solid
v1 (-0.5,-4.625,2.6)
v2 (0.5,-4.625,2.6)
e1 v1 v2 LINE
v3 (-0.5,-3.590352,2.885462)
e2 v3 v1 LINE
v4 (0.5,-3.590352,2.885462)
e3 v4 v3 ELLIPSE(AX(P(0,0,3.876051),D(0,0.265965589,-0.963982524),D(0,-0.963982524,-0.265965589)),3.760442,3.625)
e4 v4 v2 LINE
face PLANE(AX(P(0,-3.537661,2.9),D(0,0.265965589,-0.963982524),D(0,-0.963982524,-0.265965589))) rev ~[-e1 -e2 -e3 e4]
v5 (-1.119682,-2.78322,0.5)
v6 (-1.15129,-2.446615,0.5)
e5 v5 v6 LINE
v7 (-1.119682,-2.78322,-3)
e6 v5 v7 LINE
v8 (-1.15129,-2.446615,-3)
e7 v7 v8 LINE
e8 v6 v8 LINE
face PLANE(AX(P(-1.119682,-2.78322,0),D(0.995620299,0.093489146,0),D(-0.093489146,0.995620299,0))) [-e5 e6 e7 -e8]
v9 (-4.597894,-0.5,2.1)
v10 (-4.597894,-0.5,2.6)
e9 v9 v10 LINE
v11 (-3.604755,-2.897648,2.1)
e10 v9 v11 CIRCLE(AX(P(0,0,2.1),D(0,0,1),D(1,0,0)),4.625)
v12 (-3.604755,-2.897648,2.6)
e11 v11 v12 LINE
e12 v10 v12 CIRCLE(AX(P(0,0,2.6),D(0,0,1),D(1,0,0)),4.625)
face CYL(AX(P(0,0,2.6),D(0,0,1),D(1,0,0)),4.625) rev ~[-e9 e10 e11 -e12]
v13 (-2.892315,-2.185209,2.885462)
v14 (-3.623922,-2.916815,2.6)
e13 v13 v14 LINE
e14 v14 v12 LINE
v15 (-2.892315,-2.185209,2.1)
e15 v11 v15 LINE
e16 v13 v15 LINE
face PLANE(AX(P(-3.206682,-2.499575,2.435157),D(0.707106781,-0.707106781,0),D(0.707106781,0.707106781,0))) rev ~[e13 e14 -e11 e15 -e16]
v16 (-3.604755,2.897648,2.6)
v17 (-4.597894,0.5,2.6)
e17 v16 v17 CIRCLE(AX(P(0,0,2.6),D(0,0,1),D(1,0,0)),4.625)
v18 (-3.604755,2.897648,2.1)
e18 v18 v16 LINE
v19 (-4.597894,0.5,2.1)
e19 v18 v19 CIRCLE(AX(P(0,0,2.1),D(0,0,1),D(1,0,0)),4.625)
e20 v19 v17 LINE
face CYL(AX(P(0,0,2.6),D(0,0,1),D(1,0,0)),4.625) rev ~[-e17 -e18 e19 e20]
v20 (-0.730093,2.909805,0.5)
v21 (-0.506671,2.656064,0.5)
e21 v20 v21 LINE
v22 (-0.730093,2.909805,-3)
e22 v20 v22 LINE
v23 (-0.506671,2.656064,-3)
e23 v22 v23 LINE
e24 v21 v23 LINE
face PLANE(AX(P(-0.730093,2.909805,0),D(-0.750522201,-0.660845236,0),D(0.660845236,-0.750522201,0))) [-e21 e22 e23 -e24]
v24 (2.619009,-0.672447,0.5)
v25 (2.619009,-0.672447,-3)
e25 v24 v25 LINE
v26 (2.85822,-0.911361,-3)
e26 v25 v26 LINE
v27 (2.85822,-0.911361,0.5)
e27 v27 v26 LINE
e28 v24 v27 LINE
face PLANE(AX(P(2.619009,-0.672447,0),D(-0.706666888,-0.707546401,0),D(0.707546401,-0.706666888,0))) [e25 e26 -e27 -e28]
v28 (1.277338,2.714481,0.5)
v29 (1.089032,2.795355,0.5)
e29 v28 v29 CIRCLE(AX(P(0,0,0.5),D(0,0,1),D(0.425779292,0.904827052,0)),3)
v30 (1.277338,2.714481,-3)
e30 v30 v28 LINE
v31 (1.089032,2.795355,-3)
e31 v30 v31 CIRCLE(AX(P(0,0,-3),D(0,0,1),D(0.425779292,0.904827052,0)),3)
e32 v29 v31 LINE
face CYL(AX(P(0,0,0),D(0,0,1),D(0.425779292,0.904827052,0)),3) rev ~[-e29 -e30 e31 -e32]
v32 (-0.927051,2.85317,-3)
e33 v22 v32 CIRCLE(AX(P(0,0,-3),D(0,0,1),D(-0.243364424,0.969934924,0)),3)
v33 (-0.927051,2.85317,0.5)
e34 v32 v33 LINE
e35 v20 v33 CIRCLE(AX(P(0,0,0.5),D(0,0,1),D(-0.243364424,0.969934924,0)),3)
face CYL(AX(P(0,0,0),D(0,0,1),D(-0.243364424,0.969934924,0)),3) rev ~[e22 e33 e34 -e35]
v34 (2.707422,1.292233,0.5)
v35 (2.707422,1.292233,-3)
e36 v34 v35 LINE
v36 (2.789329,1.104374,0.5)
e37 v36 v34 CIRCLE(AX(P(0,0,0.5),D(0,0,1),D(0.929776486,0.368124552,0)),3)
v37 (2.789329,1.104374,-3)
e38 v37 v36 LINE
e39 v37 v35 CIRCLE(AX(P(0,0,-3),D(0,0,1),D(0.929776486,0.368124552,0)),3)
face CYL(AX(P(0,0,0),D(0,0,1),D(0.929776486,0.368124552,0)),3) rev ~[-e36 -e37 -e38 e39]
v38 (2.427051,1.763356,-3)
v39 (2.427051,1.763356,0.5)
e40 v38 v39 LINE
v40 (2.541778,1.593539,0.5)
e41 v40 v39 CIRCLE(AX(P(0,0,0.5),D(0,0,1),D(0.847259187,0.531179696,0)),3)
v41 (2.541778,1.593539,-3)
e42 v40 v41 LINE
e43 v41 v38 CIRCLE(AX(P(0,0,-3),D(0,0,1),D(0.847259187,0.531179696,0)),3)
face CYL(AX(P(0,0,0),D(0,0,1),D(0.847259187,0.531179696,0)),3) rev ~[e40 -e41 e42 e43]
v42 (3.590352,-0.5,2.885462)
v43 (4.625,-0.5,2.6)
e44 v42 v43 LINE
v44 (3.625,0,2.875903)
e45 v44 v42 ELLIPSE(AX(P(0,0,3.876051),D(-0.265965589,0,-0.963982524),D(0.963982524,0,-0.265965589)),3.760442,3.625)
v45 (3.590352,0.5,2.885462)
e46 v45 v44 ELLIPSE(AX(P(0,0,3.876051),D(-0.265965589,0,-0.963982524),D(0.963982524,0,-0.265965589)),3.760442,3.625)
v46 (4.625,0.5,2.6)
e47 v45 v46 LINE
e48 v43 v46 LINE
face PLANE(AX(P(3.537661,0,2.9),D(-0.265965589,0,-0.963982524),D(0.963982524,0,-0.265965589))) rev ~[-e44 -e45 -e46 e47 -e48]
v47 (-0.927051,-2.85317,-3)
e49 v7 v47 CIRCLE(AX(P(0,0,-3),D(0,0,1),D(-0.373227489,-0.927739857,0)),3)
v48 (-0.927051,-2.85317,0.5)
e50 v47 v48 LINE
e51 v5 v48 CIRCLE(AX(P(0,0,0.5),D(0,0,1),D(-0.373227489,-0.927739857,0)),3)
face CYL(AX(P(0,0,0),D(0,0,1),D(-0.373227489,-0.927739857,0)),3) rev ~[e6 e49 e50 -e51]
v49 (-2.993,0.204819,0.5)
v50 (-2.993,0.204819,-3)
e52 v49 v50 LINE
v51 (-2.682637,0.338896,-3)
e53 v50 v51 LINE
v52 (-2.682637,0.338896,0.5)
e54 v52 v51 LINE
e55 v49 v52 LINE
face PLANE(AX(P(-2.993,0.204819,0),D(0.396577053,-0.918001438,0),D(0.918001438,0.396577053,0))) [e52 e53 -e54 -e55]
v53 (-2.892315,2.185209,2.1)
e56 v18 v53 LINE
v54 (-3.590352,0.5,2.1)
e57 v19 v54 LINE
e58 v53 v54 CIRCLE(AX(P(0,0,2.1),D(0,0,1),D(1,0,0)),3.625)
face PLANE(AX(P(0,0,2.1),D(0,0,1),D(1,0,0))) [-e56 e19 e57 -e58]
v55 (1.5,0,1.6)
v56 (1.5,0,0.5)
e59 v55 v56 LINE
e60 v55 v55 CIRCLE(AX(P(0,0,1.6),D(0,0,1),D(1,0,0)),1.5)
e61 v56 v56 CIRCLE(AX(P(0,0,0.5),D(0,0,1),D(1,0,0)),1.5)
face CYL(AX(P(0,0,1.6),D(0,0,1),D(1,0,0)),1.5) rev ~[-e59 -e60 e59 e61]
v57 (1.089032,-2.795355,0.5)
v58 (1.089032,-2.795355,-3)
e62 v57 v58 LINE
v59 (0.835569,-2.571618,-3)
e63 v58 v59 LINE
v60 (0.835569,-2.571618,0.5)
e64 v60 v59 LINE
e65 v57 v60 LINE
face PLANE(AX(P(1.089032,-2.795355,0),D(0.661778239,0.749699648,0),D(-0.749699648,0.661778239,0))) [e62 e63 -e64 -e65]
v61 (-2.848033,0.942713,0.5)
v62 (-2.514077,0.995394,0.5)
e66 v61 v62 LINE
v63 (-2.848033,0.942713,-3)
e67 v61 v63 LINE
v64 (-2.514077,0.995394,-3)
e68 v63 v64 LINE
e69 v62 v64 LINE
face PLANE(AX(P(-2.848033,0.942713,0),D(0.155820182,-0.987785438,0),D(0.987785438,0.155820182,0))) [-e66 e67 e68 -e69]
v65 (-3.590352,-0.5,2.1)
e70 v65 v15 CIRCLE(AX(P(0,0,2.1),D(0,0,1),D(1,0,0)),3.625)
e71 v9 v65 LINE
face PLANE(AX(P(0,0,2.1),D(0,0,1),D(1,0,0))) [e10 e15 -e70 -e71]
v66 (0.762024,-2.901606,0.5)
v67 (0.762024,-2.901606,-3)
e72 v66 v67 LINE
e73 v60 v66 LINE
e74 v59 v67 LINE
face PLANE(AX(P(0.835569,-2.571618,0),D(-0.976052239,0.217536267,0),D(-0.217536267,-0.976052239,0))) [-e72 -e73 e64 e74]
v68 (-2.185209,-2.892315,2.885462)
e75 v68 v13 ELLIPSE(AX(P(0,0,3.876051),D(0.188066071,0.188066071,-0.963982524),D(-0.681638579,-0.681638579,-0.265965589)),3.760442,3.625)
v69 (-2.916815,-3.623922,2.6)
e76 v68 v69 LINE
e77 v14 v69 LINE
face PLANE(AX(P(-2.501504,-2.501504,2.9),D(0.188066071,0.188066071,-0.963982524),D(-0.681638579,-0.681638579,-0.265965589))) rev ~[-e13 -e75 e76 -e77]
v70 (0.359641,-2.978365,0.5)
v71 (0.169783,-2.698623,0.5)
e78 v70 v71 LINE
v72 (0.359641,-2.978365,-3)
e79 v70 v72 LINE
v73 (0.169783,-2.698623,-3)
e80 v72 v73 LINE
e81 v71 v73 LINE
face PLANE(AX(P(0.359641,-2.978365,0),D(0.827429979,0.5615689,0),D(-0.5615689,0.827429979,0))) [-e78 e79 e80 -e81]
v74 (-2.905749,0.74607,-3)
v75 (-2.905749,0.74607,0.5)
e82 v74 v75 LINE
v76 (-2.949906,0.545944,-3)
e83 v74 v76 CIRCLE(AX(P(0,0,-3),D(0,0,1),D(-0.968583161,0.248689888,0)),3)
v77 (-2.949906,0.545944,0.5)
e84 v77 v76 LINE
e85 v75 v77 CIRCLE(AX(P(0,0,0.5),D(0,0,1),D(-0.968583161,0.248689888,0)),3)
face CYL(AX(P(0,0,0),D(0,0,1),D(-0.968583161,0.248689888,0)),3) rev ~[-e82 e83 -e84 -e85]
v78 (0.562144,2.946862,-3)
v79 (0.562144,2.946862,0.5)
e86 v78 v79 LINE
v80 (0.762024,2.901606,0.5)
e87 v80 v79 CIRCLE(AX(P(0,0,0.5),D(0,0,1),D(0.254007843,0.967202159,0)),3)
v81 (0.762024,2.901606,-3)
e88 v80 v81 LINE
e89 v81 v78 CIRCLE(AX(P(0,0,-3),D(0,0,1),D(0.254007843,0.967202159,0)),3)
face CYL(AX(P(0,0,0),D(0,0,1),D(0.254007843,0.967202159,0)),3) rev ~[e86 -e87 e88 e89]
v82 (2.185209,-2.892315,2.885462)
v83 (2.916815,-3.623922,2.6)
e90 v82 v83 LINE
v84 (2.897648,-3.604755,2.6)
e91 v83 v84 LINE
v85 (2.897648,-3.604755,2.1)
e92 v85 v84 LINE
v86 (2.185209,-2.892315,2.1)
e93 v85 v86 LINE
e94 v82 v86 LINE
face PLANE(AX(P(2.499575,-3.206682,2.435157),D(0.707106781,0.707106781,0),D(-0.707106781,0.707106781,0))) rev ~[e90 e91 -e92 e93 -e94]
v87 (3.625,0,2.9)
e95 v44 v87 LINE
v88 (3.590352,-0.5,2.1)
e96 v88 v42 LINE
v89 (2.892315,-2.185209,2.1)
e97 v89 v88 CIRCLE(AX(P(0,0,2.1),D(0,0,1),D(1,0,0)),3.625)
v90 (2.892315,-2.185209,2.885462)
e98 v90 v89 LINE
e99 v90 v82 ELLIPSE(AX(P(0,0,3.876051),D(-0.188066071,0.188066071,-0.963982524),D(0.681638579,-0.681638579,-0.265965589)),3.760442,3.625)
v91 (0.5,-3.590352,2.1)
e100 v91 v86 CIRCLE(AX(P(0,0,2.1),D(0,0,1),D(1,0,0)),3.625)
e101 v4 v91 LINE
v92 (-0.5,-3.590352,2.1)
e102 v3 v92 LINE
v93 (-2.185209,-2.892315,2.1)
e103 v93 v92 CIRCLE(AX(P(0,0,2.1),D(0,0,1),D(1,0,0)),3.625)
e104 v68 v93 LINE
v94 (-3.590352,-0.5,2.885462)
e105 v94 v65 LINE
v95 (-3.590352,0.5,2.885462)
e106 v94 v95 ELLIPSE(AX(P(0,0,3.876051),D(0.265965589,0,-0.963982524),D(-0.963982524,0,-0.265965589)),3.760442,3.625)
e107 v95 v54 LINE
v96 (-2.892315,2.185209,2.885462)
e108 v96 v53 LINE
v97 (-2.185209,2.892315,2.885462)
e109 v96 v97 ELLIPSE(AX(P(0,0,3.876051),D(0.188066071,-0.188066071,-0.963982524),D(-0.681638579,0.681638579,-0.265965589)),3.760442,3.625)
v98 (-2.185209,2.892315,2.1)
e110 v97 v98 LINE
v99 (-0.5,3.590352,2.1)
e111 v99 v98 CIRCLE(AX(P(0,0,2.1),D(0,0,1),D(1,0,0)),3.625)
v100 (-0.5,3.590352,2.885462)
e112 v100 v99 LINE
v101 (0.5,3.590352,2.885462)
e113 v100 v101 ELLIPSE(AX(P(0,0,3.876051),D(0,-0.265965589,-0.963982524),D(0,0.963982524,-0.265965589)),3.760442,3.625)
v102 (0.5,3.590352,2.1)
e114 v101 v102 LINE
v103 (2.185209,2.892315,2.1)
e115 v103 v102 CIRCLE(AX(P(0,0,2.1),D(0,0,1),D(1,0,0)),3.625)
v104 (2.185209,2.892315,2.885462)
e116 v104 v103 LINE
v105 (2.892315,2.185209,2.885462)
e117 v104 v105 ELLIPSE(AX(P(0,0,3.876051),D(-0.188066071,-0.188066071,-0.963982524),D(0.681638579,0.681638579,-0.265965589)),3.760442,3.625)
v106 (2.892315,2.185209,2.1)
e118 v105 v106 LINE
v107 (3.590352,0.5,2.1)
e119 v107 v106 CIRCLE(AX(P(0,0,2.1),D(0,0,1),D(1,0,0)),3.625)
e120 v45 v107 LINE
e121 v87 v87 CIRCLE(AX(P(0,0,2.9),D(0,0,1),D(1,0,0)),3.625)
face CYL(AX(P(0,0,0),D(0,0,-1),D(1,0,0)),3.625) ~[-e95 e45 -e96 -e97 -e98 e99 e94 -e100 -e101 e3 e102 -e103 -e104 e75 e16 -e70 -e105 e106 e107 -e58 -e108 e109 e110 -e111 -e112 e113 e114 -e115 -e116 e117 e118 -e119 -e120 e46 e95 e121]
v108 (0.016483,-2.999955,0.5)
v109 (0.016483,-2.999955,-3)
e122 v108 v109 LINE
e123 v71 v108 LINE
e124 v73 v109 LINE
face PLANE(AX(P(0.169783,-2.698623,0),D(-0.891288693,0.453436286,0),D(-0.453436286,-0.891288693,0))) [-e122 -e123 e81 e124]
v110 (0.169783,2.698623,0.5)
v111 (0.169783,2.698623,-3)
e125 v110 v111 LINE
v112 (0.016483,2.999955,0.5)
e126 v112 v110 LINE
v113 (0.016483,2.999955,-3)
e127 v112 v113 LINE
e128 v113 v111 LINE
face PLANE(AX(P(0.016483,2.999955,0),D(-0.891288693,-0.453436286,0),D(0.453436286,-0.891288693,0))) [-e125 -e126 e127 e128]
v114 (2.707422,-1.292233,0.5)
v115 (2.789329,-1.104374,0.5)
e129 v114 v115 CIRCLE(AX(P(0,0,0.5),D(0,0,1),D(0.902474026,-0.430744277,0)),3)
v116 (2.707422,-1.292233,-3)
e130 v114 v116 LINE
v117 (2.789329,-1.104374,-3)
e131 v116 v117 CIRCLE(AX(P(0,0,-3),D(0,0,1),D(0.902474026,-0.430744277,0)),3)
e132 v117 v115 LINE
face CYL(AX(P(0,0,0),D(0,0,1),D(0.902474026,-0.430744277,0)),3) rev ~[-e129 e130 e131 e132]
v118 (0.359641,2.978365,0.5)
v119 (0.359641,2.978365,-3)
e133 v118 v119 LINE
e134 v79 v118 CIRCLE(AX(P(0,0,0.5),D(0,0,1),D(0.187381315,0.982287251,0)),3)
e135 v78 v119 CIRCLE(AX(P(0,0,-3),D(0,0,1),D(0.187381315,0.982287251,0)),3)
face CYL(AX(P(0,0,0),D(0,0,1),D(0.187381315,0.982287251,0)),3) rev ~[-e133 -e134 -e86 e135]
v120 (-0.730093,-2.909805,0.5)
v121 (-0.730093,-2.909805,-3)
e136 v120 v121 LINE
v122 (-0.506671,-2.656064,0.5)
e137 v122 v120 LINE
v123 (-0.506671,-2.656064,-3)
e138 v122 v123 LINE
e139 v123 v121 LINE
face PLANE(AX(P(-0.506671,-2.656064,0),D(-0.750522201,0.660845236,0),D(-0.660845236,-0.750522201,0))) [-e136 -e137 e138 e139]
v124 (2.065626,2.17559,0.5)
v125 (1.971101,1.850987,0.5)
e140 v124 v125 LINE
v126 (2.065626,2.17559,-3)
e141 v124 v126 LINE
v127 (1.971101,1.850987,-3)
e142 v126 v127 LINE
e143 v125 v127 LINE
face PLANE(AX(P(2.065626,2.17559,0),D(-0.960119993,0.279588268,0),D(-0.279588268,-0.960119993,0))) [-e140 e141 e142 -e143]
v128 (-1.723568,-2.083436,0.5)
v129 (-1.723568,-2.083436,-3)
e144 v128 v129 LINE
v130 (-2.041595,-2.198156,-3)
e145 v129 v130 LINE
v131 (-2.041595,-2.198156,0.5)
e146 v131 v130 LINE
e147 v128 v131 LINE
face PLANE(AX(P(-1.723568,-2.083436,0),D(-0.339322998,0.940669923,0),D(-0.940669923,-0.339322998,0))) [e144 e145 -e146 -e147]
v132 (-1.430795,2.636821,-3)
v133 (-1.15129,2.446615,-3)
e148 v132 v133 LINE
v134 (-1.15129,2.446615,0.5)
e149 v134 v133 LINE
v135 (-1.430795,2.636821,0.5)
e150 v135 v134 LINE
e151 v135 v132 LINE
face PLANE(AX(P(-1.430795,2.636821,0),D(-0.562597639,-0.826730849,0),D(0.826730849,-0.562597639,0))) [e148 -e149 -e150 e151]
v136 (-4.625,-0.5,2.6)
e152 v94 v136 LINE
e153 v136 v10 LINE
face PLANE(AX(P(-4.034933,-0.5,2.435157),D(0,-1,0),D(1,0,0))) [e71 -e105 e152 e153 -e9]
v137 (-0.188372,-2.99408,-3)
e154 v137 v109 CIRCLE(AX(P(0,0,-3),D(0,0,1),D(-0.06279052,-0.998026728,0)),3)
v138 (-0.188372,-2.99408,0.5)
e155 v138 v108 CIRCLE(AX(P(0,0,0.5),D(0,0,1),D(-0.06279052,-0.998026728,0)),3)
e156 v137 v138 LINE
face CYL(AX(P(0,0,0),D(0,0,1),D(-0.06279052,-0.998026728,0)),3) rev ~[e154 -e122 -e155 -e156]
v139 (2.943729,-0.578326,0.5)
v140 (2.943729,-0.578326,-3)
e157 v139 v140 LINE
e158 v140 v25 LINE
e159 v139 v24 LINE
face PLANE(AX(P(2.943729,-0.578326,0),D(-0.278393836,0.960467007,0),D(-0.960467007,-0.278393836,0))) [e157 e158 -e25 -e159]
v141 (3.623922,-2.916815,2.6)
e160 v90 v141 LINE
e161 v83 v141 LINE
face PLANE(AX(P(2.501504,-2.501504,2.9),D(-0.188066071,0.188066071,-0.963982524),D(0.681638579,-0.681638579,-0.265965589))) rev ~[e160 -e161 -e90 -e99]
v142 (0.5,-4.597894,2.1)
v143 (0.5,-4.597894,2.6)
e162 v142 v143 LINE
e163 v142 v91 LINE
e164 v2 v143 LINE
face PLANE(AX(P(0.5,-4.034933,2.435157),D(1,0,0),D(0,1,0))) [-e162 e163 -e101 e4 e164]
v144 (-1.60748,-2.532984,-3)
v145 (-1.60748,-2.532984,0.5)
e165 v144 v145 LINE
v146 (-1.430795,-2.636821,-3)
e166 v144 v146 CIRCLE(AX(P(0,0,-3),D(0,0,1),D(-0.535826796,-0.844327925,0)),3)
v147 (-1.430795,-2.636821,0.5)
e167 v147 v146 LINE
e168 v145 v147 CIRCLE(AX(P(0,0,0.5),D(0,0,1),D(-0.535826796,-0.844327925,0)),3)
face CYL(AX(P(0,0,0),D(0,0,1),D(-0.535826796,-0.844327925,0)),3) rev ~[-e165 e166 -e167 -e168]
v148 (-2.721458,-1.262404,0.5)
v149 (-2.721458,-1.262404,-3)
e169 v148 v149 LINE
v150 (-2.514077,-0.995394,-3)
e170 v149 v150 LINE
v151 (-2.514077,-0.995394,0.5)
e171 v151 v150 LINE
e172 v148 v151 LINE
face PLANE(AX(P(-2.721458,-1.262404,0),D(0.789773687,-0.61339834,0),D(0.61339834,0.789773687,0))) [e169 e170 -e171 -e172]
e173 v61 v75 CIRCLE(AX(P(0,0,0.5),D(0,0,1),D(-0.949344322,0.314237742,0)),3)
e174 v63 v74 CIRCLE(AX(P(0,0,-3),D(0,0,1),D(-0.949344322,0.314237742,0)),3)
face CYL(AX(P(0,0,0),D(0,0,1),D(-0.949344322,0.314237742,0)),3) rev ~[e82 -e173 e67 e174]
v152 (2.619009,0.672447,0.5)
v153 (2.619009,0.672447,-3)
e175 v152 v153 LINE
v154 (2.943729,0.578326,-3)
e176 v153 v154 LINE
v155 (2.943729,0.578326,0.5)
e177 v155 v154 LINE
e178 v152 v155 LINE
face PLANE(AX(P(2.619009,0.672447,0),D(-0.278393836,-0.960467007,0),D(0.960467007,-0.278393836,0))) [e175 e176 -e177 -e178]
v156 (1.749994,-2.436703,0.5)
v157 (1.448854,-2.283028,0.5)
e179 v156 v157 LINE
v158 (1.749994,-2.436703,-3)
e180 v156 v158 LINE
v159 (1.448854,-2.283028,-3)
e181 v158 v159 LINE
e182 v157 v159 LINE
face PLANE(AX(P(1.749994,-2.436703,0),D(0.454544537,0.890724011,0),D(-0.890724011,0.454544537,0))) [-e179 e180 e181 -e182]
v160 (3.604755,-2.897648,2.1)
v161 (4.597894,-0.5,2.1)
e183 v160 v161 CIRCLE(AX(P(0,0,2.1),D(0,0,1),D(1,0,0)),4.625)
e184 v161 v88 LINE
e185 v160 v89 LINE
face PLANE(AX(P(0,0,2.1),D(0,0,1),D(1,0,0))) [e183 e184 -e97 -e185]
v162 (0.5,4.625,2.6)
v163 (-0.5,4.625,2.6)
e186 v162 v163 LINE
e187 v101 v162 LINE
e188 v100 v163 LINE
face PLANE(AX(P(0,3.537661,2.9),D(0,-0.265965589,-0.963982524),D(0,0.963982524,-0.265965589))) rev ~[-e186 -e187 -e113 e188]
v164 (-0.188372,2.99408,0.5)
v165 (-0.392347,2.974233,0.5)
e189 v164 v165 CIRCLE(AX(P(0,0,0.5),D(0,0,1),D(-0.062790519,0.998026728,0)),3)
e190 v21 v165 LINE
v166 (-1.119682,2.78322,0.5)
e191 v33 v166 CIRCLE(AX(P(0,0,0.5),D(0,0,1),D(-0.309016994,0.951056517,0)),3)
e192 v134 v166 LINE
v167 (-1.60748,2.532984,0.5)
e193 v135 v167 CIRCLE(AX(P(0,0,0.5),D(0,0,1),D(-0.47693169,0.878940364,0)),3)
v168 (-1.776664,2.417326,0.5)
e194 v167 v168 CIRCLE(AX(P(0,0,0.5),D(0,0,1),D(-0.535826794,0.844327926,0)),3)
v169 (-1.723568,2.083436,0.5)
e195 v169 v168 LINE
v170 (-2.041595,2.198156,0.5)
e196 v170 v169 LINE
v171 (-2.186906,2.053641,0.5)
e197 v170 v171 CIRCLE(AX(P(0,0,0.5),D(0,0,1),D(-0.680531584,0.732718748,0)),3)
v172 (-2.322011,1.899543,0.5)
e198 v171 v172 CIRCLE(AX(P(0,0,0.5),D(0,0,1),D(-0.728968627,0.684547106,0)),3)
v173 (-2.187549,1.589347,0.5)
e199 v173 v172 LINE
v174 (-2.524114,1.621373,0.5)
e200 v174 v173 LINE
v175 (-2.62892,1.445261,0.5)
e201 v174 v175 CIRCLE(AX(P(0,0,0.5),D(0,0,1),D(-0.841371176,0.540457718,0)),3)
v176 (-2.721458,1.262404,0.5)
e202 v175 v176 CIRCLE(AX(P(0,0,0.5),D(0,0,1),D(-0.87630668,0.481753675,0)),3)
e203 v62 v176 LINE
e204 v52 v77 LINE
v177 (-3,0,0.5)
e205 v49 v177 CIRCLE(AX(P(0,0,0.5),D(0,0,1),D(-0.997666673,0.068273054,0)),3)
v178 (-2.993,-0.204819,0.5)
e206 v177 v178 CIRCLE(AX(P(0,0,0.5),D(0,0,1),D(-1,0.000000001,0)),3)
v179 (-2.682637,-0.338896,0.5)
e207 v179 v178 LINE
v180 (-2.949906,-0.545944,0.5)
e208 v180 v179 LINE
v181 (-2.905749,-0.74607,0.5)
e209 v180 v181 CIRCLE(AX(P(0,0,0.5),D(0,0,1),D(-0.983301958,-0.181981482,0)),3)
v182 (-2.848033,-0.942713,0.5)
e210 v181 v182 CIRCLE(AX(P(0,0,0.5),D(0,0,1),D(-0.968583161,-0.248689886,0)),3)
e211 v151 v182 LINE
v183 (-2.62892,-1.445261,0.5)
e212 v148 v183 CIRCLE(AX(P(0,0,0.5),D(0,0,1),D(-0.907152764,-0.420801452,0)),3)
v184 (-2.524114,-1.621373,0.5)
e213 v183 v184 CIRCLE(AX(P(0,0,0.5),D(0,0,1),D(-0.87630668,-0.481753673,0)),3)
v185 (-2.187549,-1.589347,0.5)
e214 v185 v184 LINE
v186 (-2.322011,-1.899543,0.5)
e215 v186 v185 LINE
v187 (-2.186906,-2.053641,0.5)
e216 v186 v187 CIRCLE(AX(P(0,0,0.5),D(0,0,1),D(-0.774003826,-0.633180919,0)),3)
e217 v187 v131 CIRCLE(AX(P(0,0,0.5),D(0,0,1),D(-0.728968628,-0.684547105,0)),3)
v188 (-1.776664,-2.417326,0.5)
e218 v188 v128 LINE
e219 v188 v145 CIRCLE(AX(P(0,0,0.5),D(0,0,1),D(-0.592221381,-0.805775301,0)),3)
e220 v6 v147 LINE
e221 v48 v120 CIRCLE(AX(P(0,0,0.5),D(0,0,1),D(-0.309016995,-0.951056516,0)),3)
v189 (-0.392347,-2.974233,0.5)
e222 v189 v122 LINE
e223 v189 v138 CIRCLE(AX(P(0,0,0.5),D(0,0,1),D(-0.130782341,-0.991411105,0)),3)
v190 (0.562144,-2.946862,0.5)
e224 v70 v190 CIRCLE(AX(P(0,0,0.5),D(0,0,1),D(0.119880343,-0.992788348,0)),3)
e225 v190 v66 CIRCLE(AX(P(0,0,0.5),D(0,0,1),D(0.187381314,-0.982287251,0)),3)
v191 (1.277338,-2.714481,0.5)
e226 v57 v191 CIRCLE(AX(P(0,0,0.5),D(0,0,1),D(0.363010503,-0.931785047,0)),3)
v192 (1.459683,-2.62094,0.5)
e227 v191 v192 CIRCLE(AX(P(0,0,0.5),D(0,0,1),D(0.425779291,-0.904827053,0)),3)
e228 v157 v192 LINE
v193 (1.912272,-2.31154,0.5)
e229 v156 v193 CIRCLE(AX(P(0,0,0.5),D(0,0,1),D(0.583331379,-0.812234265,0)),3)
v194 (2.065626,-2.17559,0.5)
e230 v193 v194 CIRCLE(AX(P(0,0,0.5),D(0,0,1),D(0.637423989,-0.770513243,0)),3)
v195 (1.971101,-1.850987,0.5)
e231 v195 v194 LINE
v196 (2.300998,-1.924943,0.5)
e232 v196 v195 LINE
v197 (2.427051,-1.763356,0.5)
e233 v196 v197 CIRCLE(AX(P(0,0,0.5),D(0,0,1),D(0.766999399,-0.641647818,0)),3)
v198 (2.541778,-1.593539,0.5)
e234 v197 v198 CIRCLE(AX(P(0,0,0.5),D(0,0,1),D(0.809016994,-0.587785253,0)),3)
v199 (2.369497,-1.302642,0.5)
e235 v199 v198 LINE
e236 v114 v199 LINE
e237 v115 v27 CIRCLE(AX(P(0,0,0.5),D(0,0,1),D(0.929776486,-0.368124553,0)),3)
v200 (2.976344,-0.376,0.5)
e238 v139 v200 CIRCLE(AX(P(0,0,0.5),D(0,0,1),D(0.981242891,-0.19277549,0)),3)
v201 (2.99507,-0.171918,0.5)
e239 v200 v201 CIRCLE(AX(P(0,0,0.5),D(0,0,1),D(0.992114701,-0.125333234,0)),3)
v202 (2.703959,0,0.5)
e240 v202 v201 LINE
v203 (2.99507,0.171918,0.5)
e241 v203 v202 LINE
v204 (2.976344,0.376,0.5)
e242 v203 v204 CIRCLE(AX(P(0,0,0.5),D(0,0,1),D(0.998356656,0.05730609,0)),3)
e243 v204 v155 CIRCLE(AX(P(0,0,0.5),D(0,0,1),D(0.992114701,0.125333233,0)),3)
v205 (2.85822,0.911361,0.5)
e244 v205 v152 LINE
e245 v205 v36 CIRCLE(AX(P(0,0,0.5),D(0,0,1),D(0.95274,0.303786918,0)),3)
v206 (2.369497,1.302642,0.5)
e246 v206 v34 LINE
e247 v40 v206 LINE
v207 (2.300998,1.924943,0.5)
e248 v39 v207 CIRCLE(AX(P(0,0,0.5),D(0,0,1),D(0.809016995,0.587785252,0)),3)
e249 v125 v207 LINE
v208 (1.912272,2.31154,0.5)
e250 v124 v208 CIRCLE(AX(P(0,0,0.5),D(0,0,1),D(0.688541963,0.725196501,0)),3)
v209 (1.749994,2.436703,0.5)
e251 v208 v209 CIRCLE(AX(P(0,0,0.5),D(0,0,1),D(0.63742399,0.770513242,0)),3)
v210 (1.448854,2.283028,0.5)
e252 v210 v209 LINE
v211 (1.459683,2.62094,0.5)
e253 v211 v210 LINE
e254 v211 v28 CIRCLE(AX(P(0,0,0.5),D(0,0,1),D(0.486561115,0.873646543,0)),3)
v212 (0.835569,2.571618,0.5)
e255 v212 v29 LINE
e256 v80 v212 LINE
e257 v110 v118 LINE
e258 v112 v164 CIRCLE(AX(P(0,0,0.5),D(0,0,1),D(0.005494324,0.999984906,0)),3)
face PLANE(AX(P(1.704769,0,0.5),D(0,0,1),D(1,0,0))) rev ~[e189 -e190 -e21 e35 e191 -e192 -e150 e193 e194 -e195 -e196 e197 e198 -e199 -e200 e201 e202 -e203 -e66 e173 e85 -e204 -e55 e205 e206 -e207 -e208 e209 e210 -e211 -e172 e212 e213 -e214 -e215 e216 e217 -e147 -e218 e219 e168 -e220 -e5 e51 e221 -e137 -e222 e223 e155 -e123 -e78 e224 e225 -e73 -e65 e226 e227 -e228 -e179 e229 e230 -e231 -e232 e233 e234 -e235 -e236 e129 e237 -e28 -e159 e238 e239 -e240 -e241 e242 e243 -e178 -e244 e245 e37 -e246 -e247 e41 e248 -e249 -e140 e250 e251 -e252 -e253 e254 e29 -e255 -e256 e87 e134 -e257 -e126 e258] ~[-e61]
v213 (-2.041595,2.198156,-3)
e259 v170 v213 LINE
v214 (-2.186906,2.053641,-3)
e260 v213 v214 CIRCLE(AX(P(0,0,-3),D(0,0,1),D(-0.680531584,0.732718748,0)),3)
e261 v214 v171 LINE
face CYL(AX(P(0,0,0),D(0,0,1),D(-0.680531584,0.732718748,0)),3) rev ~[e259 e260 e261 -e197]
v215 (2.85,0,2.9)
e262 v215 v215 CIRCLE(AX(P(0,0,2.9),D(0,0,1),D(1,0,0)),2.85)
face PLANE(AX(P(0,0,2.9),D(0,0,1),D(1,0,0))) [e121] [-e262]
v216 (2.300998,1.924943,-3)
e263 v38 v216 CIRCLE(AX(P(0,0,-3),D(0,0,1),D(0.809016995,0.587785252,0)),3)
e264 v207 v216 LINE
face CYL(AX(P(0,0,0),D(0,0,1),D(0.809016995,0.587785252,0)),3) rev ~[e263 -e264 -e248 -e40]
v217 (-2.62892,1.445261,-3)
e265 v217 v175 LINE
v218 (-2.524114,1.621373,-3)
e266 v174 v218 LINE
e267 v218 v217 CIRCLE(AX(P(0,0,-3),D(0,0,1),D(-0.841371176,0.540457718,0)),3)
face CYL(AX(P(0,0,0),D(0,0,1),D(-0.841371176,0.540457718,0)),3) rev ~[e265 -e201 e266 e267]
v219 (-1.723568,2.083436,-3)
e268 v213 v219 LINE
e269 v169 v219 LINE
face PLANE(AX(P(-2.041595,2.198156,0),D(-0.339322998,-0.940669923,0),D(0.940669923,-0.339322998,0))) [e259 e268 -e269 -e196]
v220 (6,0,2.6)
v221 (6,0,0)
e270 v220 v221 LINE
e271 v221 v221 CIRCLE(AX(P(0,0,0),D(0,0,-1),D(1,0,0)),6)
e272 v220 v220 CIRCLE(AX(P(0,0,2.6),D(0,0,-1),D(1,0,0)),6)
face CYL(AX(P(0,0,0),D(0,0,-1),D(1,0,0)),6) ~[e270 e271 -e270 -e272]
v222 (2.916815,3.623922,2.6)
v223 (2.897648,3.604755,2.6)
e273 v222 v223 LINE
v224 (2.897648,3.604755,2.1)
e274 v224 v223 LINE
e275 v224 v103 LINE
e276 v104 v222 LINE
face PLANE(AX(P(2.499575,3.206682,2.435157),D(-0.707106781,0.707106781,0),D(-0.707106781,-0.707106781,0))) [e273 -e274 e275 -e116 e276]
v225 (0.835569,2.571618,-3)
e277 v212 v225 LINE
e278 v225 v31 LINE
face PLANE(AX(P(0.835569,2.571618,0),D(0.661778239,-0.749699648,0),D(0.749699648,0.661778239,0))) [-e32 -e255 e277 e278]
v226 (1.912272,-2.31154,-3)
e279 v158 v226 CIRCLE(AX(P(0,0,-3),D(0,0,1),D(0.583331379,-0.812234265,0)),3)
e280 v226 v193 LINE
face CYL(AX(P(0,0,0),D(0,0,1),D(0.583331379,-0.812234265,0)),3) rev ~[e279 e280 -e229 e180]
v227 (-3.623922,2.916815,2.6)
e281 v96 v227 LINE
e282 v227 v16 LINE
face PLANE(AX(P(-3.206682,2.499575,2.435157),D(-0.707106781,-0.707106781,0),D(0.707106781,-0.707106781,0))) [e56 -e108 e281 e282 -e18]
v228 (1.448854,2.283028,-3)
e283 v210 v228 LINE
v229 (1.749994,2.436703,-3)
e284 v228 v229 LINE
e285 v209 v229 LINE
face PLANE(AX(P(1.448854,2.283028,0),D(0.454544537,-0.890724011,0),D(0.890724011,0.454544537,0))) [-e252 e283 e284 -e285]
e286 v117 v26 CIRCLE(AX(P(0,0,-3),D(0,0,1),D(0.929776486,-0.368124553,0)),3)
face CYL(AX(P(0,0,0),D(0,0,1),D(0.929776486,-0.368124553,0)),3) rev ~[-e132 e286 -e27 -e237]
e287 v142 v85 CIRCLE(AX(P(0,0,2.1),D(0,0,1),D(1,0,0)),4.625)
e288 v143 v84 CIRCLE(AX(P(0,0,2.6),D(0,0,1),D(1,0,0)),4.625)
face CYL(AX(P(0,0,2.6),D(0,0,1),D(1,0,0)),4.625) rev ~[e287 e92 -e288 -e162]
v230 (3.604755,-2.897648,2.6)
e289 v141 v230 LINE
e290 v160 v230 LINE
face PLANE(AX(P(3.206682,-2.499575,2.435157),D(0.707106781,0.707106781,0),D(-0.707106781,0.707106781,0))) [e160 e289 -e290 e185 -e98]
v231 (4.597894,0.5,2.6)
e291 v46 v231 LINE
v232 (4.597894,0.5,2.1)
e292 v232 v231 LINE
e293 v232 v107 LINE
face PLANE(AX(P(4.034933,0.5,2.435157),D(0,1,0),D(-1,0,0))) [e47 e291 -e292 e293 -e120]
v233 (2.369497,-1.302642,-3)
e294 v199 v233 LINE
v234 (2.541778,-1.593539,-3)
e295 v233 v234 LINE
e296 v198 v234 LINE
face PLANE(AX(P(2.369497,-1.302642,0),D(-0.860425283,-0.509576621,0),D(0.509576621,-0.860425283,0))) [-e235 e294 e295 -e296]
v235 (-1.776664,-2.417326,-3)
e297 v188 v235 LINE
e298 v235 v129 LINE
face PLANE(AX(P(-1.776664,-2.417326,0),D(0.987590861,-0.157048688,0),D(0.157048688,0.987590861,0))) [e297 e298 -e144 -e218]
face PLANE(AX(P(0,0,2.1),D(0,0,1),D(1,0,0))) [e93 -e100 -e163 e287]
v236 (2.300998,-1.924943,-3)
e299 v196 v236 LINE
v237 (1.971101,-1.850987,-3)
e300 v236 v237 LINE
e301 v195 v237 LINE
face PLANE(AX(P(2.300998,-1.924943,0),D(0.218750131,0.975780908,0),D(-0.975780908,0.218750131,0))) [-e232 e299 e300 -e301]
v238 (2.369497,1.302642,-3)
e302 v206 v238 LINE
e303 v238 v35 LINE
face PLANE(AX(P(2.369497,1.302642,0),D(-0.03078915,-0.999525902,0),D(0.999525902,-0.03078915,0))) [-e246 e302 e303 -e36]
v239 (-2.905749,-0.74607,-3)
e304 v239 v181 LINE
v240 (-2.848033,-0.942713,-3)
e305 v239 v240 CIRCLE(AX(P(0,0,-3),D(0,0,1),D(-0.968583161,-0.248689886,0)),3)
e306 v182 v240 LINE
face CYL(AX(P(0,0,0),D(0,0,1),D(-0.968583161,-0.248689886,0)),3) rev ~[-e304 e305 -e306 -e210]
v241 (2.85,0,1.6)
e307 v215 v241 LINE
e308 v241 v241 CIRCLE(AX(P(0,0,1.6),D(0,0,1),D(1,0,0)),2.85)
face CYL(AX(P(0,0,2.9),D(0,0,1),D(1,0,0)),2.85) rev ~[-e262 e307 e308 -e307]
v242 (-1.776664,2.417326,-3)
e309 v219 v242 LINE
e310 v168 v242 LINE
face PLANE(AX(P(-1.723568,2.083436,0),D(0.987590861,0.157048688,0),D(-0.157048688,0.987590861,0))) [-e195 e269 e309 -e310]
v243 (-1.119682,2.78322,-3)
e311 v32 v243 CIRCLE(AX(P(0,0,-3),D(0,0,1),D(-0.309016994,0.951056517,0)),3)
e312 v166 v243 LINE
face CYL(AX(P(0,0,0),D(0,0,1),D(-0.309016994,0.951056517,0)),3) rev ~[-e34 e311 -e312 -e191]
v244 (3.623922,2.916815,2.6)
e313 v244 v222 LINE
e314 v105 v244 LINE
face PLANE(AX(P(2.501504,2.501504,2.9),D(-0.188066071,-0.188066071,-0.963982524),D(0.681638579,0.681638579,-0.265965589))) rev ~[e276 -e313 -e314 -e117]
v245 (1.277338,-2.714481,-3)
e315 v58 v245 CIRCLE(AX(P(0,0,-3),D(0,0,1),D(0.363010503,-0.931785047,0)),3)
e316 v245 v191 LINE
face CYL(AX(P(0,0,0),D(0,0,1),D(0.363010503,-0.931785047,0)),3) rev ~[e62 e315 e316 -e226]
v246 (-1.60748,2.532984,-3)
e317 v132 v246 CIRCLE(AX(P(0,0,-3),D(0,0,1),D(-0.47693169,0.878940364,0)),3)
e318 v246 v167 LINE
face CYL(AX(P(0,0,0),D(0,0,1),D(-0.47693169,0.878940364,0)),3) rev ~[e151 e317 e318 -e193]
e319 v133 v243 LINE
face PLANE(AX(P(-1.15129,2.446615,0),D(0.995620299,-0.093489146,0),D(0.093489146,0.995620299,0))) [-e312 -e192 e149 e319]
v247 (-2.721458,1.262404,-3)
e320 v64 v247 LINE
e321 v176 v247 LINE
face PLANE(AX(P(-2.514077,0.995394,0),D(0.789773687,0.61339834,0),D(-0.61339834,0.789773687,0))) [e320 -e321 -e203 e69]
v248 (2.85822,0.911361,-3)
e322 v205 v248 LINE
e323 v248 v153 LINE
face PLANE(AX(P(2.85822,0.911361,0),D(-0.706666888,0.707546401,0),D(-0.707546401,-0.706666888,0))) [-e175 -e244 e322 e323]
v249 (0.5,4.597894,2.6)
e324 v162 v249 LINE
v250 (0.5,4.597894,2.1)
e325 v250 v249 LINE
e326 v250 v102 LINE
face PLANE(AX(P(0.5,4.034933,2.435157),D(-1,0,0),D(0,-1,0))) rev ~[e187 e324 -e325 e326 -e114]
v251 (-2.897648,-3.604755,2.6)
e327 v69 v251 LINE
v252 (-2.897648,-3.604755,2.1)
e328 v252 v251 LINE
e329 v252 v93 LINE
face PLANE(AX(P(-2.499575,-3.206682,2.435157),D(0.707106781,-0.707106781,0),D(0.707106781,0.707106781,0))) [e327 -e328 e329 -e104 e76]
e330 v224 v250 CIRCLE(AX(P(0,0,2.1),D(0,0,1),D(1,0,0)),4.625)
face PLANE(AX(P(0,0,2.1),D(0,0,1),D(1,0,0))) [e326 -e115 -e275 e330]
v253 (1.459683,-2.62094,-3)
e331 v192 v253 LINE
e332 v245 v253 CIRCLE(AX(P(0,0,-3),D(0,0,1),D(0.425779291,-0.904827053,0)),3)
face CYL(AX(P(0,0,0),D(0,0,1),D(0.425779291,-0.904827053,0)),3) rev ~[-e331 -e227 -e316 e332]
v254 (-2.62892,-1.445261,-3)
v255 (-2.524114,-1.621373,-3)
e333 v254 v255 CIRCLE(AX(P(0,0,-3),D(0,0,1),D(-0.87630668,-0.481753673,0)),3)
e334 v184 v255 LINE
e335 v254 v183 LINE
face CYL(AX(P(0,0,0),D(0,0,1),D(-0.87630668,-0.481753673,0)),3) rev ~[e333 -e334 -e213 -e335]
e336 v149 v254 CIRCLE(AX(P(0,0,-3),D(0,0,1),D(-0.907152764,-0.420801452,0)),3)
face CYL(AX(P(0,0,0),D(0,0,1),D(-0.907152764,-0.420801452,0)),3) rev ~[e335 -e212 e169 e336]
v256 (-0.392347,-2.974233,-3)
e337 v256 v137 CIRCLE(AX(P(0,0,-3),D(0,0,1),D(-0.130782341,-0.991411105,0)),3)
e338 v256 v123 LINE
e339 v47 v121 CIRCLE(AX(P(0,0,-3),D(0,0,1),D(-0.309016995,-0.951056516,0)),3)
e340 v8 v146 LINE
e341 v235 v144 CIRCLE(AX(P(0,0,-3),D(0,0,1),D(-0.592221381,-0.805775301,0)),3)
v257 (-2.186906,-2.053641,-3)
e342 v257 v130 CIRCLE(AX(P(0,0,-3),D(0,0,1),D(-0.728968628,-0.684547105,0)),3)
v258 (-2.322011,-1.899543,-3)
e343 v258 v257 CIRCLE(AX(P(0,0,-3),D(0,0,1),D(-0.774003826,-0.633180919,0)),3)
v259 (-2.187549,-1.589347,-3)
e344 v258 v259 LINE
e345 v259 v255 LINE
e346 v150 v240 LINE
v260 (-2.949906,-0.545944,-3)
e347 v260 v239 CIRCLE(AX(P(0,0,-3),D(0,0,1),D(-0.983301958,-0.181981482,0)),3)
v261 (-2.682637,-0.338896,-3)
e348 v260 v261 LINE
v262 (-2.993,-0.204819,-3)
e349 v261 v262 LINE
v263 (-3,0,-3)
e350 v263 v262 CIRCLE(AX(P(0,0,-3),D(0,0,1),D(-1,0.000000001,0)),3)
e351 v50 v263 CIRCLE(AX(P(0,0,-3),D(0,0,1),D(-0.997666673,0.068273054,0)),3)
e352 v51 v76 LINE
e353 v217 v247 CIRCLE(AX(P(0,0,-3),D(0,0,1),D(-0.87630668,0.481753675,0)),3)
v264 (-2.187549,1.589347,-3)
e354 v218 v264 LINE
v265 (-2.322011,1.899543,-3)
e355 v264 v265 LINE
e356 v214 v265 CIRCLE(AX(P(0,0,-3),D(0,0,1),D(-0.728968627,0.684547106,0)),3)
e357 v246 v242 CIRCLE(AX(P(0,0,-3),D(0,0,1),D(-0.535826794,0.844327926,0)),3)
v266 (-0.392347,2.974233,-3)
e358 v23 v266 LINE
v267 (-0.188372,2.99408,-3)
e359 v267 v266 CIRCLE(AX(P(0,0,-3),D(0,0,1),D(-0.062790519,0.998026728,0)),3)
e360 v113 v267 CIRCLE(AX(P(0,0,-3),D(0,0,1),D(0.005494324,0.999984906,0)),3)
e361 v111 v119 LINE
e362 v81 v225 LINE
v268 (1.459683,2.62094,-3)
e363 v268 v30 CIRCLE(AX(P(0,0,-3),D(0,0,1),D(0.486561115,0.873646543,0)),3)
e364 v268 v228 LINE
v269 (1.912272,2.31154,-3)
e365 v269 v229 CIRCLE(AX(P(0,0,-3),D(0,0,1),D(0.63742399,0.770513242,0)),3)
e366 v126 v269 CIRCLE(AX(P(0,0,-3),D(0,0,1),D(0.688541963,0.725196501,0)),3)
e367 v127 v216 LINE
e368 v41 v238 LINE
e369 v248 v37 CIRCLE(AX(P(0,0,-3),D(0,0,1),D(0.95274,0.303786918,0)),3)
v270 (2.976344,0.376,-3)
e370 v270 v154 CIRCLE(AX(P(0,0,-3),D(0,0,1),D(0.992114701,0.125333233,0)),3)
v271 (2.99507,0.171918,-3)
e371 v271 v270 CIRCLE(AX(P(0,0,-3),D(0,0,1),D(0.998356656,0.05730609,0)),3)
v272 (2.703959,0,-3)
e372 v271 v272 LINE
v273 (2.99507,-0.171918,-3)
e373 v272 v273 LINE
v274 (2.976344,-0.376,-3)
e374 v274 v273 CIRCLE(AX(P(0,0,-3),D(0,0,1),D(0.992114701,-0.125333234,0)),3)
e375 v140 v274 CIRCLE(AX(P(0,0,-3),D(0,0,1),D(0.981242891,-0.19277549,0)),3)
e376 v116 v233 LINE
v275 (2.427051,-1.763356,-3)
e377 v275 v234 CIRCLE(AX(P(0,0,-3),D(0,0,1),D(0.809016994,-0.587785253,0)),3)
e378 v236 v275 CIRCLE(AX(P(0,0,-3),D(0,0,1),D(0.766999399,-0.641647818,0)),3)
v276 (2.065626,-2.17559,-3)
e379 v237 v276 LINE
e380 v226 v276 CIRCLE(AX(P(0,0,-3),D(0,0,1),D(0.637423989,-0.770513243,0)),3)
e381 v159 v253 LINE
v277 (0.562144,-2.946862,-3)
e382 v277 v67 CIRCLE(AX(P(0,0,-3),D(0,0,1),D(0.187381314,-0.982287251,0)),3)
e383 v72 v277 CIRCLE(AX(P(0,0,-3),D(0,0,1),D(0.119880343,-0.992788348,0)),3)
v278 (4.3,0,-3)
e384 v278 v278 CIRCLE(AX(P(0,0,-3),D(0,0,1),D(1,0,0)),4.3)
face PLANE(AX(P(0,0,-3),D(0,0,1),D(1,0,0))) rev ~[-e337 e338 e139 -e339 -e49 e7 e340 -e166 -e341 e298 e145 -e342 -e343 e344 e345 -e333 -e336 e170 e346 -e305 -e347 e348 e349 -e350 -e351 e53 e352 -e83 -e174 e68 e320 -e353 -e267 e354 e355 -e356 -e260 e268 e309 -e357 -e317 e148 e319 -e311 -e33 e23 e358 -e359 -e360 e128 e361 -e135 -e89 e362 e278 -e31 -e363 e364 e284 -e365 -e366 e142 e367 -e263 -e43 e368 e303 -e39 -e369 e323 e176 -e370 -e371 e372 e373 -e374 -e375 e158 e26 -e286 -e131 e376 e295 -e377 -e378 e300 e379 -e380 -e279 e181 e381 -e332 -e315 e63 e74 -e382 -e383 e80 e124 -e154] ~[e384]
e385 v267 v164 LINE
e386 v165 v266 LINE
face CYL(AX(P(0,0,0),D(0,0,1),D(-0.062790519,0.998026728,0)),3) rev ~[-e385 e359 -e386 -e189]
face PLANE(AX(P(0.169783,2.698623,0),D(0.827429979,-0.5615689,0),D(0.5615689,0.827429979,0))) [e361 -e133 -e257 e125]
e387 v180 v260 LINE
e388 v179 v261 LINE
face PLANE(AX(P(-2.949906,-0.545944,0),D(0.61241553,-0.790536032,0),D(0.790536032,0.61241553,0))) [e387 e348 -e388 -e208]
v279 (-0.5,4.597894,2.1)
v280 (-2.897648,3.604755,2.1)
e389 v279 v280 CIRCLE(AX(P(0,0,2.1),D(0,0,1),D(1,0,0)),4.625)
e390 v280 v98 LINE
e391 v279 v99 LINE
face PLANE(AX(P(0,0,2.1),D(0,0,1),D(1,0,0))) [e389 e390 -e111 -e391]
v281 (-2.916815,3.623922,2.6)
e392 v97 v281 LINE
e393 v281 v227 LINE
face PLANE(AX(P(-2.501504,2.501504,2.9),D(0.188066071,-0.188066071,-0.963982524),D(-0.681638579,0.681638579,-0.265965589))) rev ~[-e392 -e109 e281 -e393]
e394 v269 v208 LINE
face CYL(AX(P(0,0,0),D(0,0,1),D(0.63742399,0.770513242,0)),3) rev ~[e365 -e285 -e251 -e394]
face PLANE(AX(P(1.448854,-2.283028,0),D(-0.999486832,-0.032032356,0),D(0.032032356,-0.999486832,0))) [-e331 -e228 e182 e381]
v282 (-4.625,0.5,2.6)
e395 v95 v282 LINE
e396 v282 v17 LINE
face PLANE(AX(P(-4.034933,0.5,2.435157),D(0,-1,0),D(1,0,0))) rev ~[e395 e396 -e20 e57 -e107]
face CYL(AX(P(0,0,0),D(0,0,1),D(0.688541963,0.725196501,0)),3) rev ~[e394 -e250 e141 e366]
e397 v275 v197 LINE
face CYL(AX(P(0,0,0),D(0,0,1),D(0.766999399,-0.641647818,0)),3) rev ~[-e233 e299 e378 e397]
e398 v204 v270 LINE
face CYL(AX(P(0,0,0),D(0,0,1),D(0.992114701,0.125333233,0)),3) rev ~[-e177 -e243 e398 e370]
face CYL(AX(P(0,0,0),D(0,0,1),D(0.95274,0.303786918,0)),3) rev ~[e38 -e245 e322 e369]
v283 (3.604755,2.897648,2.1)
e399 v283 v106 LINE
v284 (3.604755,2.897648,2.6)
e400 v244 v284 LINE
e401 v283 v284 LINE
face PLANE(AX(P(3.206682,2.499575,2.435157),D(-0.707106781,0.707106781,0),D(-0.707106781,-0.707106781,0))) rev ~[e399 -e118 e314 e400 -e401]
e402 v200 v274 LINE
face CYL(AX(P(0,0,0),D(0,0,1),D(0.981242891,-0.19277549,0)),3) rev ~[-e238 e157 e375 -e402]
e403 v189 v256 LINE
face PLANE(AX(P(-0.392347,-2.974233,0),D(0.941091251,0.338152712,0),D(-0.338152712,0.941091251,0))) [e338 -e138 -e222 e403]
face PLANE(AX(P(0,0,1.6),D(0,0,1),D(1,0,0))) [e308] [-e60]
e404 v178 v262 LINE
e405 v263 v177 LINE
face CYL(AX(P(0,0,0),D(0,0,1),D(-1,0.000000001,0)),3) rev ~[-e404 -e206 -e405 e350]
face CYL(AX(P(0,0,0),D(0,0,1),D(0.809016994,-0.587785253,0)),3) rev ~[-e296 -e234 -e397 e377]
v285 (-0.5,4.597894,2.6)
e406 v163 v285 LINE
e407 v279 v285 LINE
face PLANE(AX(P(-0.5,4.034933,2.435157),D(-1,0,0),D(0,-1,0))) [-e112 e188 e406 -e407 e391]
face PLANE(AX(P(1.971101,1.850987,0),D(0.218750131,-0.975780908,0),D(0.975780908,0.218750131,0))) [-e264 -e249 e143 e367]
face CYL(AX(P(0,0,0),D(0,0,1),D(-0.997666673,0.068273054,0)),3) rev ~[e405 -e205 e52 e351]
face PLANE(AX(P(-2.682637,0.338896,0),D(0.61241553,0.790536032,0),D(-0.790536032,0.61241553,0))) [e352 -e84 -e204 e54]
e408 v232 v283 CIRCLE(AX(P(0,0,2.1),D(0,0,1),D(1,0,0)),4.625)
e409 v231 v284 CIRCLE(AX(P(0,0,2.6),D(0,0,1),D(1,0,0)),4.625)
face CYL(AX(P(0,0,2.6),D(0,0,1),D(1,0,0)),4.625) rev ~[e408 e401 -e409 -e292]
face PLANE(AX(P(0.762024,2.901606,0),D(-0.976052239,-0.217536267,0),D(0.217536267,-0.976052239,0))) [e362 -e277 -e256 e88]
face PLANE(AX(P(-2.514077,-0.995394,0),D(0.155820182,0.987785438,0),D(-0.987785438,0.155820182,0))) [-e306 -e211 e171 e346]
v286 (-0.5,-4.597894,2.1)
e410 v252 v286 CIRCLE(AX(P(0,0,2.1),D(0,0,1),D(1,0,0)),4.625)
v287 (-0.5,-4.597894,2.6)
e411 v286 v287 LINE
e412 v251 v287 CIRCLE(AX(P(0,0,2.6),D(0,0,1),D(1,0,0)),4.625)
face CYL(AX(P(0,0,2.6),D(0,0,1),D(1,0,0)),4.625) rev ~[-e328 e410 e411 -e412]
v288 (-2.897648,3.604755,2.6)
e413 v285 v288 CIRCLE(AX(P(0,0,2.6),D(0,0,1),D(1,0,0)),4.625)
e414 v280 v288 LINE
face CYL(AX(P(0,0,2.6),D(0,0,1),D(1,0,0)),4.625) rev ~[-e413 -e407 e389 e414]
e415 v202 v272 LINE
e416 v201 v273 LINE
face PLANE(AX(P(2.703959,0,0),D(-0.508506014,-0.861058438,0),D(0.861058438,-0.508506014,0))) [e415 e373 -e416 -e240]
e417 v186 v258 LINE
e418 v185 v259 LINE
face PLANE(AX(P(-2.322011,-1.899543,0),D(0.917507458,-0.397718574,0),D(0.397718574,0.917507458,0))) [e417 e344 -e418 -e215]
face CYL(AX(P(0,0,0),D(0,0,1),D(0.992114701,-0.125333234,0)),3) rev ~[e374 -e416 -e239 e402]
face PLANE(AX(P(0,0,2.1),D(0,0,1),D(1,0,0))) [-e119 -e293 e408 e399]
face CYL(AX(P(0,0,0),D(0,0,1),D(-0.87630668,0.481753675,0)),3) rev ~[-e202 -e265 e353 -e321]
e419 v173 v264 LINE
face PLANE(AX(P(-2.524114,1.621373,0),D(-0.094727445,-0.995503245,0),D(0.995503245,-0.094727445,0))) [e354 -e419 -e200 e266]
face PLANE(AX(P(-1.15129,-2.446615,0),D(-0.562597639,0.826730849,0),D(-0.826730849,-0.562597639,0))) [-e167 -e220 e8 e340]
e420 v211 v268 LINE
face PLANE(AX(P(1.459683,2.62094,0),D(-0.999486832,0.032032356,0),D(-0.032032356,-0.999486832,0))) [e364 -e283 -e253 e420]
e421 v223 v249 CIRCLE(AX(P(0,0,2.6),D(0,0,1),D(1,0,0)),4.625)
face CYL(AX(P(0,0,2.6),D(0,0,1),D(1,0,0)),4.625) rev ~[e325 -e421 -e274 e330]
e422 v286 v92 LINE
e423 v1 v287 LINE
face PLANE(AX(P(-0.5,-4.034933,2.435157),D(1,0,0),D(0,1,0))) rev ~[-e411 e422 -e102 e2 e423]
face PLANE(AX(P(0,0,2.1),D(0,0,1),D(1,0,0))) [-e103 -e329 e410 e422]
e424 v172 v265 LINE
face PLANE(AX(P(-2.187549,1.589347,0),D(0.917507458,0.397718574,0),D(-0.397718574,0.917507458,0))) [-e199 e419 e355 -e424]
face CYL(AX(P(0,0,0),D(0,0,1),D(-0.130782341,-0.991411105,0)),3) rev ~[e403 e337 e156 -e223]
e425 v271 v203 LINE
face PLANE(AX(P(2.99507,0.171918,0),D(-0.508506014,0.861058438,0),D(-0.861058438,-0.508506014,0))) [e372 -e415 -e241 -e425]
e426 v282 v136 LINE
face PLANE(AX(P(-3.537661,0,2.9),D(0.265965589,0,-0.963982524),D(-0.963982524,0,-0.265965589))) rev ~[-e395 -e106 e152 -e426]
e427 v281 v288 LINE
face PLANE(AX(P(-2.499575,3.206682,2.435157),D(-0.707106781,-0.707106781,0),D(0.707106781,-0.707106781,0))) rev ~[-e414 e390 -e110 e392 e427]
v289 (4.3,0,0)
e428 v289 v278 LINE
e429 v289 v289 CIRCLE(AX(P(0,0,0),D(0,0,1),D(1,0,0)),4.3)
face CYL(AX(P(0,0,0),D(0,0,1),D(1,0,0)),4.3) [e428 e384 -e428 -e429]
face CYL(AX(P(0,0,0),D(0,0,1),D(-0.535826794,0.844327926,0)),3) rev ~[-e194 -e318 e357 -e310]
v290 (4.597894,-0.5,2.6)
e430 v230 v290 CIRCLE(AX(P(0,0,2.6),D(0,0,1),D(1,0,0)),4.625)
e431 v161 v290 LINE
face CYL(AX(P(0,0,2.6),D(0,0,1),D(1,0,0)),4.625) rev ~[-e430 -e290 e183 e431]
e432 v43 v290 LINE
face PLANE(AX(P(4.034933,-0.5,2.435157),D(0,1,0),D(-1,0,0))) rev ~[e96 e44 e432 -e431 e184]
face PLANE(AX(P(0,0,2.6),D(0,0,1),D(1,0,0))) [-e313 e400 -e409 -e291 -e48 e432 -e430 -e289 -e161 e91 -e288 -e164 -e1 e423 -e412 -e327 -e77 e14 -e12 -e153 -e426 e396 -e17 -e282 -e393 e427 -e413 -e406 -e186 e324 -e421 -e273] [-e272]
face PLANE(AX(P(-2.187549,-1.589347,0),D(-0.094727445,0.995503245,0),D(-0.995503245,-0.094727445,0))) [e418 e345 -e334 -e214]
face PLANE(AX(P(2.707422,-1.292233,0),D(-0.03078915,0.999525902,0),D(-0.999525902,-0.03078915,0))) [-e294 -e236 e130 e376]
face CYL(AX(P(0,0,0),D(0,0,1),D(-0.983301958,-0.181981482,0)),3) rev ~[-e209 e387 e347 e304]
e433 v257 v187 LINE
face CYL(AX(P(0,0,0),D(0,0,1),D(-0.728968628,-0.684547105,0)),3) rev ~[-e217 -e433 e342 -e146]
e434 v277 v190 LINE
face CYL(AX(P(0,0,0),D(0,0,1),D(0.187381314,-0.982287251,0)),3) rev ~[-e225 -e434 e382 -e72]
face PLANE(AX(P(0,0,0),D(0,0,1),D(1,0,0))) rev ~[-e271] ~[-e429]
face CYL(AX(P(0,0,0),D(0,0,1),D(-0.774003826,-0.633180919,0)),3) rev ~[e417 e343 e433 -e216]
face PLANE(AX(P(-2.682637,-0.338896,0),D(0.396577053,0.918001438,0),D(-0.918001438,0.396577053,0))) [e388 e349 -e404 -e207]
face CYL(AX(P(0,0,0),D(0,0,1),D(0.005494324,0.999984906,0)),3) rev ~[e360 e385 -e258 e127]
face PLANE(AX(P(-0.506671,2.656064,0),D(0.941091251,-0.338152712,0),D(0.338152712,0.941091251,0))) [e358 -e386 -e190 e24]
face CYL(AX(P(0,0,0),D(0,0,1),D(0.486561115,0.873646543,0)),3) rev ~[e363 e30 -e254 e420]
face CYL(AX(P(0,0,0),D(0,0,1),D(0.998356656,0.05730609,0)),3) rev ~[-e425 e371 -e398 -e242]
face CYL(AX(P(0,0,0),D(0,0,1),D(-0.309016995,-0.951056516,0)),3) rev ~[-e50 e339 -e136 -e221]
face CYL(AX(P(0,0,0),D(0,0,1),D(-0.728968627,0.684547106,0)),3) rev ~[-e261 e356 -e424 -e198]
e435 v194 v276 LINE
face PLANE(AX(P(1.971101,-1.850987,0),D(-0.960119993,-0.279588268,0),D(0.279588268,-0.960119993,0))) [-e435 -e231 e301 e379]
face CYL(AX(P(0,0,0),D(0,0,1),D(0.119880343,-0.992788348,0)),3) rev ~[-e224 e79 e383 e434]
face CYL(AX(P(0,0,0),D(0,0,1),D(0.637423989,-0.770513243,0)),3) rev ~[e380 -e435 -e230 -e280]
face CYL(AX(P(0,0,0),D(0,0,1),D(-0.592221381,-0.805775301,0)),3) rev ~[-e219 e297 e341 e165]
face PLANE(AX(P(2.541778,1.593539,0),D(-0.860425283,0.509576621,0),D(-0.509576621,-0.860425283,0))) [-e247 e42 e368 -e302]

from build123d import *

# Parameters (mm, degrees)
PAD008_DEPTH          = 2.6
SKETCH020_R           = 3.625
SKETCH020_R_2         = 2.85
PAD009_DEPTH          = 2.9
SKETCH021_R           = 4.625
SKETCH021_R_2         = 3.625
POCKET011_DEPTH       = 0.5
PAD010_DEPTH          = 0.5
POLARPATTERN006_COUNT = 8
SKETCH023_R           = 2.85
POCKET012_DEPTH       = 1.3
SKETCH024_R           = 1.5
POCKET013_DEPTH       = 5
SKETCH025_R           = 0.75
POCKET014_DEPTH       = 5
POLARPATTERN007_COUNT = 4
SKETCH026_R           = 4.3
PAD011_DEPTH          = 3
POCKET015_DEPTH       = 5
POCKET015_DEPTH_BACK  = 0.5
POLARPATTERN008_COUNT = 25
FILLET001_R           = 1
SKETCH028_R           = 25
SKETCH028_R_2         = 6
POCKET016_DEPTH       = 5


with BuildPart() as part:
    # Sketch019 → Pad008 (new body)
    with BuildSketch(Plane.XY):
        with BuildLine():
            ThreePointArc((3.1440666838, 19.7956884151), (0, 22.4), (-3.1440666838, 19.7956884151))
            Line((-3.1440666838, 19.7956884151), (-5, 10))
            Line((-5, 10), (-5, 5))
            Line((-5, 5), (-10, 5))
            Line((-10, 5), (-19.7956884151, 3.1440666838))
            ThreePointArc((-19.7956884151, 3.1440666838), (-22.4, 0), (-19.7956884151, -3.1440666838))
            Line((-10, -5), (-19.7956884151, -3.1440666838))
            Line((-5, -5), (-10, -5))
            Line((-5, -10), (-5, -5))
            Line((-3.1440666838, -19.7956884151), (-5, -10))
            ThreePointArc((-3.1440666838, -19.7956884151), (0, -22.4), (3.1440666838, -19.7956884151))
            Line((3.1440666838, -19.7956884151), (5, -10))
            Line((5, -10), (5, -5))
            Line((5, -5), (10, -5))
            Line((10, -5), (19.7956884151, -3.1440666838))
            ThreePointArc((19.7956884151, -3.1440666838), (22.4, 0), (19.7956884151, 3.1440666838))
            Line((10, 5), (19.7956884151, 3.1440666838))
            Line((5, 5), (10, 5))
            Line((5, 10), (5, 5))
            Line((3.1440666838, 19.7956884151), (5, 10))
        make_face()
    extrude(amount=PAD008_DEPTH)

    # Sketch020 → Pad009 (join)
    with BuildSketch(Plane.XY):
        Circle(SKETCH020_R)
        Circle(SKETCH020_R_2, mode=Mode.SUBTRACT)
    extrude(amount=PAD009_DEPTH)

    # Sketch021 (on Face5 of Pad009) → Pocket011 (cut)
    with BuildSketch(Plane.XY.offset(2.6)):
        Circle(SKETCH021_R)
        Circle(SKETCH021_R_2, mode=Mode.SUBTRACT)
    extrude(amount=-POCKET011_DEPTH, mode=Mode.SUBTRACT)

    # Sketch022 → Pad010 (join, symmetric)
    with BuildSketch(Plane.XZ):
        Polygon((3.537661, 2.9), (4.625, 2.6), (4.625, 2.1), (3.537661, 2.1), align=None)
    pad010 = extrude(amount=PAD010_DEPTH, both=True)

    # PolarPattern006: Pad010 ×8 about axis
    polarpattern006_axis = Axis((0, 0, 0), (0, 0, 1))
    for i in range(1, POLARPATTERN006_COUNT):
        add(pad010.rotate(polarpattern006_axis, i * 360 / POLARPATTERN006_COUNT))

    # Sketch023 (on Face74 of PolarPattern006) → Pocket012 (cut)
    with BuildSketch(Plane.XY.offset(2.9)):
        Circle(SKETCH023_R)
    extrude(amount=-POCKET012_DEPTH, mode=Mode.SUBTRACT)

    # Sketch024 (on Face66 of Pocket012) → Pocket013 (cut)
    with BuildSketch(Plane.XY.offset(1.6)):
        Circle(SKETCH024_R)
    extrude(amount=-POCKET013_DEPTH, mode=Mode.SUBTRACT)

    # Sketch025 → Pocket014 (cut)
    with BuildSketch(Plane.XY):
        with Locations((8.8, 0)):
            Circle(SKETCH025_R)
        with Locations((12.17411, 0)):
            Circle(SKETCH025_R)
        with Locations((15.54822, 0)):
            Circle(SKETCH025_R)
        with Locations((18.92233, 0)):
            Circle(SKETCH025_R)
    pocket014 = extrude(amount=POCKET014_DEPTH, mode=Mode.SUBTRACT)

    # PolarPattern007: Pocket014 ×4 about axis
    polarpattern007_axis = Axis((0, 0, 0), (0, 0, 1))
    for i in range(1, POLARPATTERN007_COUNT):
        add(pocket014.rotate(polarpattern007_axis, i * 360 / POLARPATTERN007_COUNT), mode=Mode.SUBTRACT)

    # Sketch026 → Pad011 (join)
    with BuildSketch(Plane.XY):
        Circle(SKETCH026_R)
    extrude(amount=-PAD011_DEPTH)

    # Sketch027 → Pocket015 (cut, two sides)
    with BuildSketch(Plane.XY) as pocket015_sk:
        with BuildLine():
            ThreePointArc((2.9950699672, 0.1719182704), (2.9874502188, 0.2741189345), (2.9763441039, 0.3759997007))
            Line((0, 0), (2.9763441039, 0.3759997007))
            Line((0, 0), (2.9763441039, -0.3759997007))
            ThreePointArc((2.9763441039, -0.3759997007), (2.9874502188, -0.2741189345), (2.9950699672, -0.1719182704))
            Line((2.703959, 0), (2.9950699672, -0.1719182704))
            Line((2.9950699672, 0.1719182704), (2.703959, 0))
        make_face()
    pocket015 = extrude(amount=-POCKET015_DEPTH, mode=Mode.SUBTRACT) + extrude(pocket015_sk.sketch, amount=POCKET015_DEPTH_BACK, mode=Mode.SUBTRACT)

    # PolarPattern008: Pocket015 ×25 about axis
    polarpattern008_axis = Axis((0, 0, 0), (0, 0, 1))
    for i in range(1, POLARPATTERN008_COUNT):
        add(pocket015.rotate(polarpattern008_axis, i * 360 / POLARPATTERN008_COUNT), mode=Mode.SUBTRACT)

    # Fillet001
    fillet001_edges = [part.edges().sort_by_distance(p)[0] for p in [
        (-5, -5, 1.3),
        (5, -5, 1.3),
        (5, 5, 1.3),
        (-5, 5, 1.3),
    ]]
    fillet(fillet001_edges, radius=FILLET001_R)

    # Sketch028 → Pocket016 (cut, symmetric)
    with BuildSketch(Plane.XY):
        Circle(SKETCH028_R)
        Circle(SKETCH028_R_2, mode=Mode.SUBTRACT)
    extrude(amount=POCKET016_DEPTH, both=True, mode=Mode.SUBTRACT)


solid = part.part
